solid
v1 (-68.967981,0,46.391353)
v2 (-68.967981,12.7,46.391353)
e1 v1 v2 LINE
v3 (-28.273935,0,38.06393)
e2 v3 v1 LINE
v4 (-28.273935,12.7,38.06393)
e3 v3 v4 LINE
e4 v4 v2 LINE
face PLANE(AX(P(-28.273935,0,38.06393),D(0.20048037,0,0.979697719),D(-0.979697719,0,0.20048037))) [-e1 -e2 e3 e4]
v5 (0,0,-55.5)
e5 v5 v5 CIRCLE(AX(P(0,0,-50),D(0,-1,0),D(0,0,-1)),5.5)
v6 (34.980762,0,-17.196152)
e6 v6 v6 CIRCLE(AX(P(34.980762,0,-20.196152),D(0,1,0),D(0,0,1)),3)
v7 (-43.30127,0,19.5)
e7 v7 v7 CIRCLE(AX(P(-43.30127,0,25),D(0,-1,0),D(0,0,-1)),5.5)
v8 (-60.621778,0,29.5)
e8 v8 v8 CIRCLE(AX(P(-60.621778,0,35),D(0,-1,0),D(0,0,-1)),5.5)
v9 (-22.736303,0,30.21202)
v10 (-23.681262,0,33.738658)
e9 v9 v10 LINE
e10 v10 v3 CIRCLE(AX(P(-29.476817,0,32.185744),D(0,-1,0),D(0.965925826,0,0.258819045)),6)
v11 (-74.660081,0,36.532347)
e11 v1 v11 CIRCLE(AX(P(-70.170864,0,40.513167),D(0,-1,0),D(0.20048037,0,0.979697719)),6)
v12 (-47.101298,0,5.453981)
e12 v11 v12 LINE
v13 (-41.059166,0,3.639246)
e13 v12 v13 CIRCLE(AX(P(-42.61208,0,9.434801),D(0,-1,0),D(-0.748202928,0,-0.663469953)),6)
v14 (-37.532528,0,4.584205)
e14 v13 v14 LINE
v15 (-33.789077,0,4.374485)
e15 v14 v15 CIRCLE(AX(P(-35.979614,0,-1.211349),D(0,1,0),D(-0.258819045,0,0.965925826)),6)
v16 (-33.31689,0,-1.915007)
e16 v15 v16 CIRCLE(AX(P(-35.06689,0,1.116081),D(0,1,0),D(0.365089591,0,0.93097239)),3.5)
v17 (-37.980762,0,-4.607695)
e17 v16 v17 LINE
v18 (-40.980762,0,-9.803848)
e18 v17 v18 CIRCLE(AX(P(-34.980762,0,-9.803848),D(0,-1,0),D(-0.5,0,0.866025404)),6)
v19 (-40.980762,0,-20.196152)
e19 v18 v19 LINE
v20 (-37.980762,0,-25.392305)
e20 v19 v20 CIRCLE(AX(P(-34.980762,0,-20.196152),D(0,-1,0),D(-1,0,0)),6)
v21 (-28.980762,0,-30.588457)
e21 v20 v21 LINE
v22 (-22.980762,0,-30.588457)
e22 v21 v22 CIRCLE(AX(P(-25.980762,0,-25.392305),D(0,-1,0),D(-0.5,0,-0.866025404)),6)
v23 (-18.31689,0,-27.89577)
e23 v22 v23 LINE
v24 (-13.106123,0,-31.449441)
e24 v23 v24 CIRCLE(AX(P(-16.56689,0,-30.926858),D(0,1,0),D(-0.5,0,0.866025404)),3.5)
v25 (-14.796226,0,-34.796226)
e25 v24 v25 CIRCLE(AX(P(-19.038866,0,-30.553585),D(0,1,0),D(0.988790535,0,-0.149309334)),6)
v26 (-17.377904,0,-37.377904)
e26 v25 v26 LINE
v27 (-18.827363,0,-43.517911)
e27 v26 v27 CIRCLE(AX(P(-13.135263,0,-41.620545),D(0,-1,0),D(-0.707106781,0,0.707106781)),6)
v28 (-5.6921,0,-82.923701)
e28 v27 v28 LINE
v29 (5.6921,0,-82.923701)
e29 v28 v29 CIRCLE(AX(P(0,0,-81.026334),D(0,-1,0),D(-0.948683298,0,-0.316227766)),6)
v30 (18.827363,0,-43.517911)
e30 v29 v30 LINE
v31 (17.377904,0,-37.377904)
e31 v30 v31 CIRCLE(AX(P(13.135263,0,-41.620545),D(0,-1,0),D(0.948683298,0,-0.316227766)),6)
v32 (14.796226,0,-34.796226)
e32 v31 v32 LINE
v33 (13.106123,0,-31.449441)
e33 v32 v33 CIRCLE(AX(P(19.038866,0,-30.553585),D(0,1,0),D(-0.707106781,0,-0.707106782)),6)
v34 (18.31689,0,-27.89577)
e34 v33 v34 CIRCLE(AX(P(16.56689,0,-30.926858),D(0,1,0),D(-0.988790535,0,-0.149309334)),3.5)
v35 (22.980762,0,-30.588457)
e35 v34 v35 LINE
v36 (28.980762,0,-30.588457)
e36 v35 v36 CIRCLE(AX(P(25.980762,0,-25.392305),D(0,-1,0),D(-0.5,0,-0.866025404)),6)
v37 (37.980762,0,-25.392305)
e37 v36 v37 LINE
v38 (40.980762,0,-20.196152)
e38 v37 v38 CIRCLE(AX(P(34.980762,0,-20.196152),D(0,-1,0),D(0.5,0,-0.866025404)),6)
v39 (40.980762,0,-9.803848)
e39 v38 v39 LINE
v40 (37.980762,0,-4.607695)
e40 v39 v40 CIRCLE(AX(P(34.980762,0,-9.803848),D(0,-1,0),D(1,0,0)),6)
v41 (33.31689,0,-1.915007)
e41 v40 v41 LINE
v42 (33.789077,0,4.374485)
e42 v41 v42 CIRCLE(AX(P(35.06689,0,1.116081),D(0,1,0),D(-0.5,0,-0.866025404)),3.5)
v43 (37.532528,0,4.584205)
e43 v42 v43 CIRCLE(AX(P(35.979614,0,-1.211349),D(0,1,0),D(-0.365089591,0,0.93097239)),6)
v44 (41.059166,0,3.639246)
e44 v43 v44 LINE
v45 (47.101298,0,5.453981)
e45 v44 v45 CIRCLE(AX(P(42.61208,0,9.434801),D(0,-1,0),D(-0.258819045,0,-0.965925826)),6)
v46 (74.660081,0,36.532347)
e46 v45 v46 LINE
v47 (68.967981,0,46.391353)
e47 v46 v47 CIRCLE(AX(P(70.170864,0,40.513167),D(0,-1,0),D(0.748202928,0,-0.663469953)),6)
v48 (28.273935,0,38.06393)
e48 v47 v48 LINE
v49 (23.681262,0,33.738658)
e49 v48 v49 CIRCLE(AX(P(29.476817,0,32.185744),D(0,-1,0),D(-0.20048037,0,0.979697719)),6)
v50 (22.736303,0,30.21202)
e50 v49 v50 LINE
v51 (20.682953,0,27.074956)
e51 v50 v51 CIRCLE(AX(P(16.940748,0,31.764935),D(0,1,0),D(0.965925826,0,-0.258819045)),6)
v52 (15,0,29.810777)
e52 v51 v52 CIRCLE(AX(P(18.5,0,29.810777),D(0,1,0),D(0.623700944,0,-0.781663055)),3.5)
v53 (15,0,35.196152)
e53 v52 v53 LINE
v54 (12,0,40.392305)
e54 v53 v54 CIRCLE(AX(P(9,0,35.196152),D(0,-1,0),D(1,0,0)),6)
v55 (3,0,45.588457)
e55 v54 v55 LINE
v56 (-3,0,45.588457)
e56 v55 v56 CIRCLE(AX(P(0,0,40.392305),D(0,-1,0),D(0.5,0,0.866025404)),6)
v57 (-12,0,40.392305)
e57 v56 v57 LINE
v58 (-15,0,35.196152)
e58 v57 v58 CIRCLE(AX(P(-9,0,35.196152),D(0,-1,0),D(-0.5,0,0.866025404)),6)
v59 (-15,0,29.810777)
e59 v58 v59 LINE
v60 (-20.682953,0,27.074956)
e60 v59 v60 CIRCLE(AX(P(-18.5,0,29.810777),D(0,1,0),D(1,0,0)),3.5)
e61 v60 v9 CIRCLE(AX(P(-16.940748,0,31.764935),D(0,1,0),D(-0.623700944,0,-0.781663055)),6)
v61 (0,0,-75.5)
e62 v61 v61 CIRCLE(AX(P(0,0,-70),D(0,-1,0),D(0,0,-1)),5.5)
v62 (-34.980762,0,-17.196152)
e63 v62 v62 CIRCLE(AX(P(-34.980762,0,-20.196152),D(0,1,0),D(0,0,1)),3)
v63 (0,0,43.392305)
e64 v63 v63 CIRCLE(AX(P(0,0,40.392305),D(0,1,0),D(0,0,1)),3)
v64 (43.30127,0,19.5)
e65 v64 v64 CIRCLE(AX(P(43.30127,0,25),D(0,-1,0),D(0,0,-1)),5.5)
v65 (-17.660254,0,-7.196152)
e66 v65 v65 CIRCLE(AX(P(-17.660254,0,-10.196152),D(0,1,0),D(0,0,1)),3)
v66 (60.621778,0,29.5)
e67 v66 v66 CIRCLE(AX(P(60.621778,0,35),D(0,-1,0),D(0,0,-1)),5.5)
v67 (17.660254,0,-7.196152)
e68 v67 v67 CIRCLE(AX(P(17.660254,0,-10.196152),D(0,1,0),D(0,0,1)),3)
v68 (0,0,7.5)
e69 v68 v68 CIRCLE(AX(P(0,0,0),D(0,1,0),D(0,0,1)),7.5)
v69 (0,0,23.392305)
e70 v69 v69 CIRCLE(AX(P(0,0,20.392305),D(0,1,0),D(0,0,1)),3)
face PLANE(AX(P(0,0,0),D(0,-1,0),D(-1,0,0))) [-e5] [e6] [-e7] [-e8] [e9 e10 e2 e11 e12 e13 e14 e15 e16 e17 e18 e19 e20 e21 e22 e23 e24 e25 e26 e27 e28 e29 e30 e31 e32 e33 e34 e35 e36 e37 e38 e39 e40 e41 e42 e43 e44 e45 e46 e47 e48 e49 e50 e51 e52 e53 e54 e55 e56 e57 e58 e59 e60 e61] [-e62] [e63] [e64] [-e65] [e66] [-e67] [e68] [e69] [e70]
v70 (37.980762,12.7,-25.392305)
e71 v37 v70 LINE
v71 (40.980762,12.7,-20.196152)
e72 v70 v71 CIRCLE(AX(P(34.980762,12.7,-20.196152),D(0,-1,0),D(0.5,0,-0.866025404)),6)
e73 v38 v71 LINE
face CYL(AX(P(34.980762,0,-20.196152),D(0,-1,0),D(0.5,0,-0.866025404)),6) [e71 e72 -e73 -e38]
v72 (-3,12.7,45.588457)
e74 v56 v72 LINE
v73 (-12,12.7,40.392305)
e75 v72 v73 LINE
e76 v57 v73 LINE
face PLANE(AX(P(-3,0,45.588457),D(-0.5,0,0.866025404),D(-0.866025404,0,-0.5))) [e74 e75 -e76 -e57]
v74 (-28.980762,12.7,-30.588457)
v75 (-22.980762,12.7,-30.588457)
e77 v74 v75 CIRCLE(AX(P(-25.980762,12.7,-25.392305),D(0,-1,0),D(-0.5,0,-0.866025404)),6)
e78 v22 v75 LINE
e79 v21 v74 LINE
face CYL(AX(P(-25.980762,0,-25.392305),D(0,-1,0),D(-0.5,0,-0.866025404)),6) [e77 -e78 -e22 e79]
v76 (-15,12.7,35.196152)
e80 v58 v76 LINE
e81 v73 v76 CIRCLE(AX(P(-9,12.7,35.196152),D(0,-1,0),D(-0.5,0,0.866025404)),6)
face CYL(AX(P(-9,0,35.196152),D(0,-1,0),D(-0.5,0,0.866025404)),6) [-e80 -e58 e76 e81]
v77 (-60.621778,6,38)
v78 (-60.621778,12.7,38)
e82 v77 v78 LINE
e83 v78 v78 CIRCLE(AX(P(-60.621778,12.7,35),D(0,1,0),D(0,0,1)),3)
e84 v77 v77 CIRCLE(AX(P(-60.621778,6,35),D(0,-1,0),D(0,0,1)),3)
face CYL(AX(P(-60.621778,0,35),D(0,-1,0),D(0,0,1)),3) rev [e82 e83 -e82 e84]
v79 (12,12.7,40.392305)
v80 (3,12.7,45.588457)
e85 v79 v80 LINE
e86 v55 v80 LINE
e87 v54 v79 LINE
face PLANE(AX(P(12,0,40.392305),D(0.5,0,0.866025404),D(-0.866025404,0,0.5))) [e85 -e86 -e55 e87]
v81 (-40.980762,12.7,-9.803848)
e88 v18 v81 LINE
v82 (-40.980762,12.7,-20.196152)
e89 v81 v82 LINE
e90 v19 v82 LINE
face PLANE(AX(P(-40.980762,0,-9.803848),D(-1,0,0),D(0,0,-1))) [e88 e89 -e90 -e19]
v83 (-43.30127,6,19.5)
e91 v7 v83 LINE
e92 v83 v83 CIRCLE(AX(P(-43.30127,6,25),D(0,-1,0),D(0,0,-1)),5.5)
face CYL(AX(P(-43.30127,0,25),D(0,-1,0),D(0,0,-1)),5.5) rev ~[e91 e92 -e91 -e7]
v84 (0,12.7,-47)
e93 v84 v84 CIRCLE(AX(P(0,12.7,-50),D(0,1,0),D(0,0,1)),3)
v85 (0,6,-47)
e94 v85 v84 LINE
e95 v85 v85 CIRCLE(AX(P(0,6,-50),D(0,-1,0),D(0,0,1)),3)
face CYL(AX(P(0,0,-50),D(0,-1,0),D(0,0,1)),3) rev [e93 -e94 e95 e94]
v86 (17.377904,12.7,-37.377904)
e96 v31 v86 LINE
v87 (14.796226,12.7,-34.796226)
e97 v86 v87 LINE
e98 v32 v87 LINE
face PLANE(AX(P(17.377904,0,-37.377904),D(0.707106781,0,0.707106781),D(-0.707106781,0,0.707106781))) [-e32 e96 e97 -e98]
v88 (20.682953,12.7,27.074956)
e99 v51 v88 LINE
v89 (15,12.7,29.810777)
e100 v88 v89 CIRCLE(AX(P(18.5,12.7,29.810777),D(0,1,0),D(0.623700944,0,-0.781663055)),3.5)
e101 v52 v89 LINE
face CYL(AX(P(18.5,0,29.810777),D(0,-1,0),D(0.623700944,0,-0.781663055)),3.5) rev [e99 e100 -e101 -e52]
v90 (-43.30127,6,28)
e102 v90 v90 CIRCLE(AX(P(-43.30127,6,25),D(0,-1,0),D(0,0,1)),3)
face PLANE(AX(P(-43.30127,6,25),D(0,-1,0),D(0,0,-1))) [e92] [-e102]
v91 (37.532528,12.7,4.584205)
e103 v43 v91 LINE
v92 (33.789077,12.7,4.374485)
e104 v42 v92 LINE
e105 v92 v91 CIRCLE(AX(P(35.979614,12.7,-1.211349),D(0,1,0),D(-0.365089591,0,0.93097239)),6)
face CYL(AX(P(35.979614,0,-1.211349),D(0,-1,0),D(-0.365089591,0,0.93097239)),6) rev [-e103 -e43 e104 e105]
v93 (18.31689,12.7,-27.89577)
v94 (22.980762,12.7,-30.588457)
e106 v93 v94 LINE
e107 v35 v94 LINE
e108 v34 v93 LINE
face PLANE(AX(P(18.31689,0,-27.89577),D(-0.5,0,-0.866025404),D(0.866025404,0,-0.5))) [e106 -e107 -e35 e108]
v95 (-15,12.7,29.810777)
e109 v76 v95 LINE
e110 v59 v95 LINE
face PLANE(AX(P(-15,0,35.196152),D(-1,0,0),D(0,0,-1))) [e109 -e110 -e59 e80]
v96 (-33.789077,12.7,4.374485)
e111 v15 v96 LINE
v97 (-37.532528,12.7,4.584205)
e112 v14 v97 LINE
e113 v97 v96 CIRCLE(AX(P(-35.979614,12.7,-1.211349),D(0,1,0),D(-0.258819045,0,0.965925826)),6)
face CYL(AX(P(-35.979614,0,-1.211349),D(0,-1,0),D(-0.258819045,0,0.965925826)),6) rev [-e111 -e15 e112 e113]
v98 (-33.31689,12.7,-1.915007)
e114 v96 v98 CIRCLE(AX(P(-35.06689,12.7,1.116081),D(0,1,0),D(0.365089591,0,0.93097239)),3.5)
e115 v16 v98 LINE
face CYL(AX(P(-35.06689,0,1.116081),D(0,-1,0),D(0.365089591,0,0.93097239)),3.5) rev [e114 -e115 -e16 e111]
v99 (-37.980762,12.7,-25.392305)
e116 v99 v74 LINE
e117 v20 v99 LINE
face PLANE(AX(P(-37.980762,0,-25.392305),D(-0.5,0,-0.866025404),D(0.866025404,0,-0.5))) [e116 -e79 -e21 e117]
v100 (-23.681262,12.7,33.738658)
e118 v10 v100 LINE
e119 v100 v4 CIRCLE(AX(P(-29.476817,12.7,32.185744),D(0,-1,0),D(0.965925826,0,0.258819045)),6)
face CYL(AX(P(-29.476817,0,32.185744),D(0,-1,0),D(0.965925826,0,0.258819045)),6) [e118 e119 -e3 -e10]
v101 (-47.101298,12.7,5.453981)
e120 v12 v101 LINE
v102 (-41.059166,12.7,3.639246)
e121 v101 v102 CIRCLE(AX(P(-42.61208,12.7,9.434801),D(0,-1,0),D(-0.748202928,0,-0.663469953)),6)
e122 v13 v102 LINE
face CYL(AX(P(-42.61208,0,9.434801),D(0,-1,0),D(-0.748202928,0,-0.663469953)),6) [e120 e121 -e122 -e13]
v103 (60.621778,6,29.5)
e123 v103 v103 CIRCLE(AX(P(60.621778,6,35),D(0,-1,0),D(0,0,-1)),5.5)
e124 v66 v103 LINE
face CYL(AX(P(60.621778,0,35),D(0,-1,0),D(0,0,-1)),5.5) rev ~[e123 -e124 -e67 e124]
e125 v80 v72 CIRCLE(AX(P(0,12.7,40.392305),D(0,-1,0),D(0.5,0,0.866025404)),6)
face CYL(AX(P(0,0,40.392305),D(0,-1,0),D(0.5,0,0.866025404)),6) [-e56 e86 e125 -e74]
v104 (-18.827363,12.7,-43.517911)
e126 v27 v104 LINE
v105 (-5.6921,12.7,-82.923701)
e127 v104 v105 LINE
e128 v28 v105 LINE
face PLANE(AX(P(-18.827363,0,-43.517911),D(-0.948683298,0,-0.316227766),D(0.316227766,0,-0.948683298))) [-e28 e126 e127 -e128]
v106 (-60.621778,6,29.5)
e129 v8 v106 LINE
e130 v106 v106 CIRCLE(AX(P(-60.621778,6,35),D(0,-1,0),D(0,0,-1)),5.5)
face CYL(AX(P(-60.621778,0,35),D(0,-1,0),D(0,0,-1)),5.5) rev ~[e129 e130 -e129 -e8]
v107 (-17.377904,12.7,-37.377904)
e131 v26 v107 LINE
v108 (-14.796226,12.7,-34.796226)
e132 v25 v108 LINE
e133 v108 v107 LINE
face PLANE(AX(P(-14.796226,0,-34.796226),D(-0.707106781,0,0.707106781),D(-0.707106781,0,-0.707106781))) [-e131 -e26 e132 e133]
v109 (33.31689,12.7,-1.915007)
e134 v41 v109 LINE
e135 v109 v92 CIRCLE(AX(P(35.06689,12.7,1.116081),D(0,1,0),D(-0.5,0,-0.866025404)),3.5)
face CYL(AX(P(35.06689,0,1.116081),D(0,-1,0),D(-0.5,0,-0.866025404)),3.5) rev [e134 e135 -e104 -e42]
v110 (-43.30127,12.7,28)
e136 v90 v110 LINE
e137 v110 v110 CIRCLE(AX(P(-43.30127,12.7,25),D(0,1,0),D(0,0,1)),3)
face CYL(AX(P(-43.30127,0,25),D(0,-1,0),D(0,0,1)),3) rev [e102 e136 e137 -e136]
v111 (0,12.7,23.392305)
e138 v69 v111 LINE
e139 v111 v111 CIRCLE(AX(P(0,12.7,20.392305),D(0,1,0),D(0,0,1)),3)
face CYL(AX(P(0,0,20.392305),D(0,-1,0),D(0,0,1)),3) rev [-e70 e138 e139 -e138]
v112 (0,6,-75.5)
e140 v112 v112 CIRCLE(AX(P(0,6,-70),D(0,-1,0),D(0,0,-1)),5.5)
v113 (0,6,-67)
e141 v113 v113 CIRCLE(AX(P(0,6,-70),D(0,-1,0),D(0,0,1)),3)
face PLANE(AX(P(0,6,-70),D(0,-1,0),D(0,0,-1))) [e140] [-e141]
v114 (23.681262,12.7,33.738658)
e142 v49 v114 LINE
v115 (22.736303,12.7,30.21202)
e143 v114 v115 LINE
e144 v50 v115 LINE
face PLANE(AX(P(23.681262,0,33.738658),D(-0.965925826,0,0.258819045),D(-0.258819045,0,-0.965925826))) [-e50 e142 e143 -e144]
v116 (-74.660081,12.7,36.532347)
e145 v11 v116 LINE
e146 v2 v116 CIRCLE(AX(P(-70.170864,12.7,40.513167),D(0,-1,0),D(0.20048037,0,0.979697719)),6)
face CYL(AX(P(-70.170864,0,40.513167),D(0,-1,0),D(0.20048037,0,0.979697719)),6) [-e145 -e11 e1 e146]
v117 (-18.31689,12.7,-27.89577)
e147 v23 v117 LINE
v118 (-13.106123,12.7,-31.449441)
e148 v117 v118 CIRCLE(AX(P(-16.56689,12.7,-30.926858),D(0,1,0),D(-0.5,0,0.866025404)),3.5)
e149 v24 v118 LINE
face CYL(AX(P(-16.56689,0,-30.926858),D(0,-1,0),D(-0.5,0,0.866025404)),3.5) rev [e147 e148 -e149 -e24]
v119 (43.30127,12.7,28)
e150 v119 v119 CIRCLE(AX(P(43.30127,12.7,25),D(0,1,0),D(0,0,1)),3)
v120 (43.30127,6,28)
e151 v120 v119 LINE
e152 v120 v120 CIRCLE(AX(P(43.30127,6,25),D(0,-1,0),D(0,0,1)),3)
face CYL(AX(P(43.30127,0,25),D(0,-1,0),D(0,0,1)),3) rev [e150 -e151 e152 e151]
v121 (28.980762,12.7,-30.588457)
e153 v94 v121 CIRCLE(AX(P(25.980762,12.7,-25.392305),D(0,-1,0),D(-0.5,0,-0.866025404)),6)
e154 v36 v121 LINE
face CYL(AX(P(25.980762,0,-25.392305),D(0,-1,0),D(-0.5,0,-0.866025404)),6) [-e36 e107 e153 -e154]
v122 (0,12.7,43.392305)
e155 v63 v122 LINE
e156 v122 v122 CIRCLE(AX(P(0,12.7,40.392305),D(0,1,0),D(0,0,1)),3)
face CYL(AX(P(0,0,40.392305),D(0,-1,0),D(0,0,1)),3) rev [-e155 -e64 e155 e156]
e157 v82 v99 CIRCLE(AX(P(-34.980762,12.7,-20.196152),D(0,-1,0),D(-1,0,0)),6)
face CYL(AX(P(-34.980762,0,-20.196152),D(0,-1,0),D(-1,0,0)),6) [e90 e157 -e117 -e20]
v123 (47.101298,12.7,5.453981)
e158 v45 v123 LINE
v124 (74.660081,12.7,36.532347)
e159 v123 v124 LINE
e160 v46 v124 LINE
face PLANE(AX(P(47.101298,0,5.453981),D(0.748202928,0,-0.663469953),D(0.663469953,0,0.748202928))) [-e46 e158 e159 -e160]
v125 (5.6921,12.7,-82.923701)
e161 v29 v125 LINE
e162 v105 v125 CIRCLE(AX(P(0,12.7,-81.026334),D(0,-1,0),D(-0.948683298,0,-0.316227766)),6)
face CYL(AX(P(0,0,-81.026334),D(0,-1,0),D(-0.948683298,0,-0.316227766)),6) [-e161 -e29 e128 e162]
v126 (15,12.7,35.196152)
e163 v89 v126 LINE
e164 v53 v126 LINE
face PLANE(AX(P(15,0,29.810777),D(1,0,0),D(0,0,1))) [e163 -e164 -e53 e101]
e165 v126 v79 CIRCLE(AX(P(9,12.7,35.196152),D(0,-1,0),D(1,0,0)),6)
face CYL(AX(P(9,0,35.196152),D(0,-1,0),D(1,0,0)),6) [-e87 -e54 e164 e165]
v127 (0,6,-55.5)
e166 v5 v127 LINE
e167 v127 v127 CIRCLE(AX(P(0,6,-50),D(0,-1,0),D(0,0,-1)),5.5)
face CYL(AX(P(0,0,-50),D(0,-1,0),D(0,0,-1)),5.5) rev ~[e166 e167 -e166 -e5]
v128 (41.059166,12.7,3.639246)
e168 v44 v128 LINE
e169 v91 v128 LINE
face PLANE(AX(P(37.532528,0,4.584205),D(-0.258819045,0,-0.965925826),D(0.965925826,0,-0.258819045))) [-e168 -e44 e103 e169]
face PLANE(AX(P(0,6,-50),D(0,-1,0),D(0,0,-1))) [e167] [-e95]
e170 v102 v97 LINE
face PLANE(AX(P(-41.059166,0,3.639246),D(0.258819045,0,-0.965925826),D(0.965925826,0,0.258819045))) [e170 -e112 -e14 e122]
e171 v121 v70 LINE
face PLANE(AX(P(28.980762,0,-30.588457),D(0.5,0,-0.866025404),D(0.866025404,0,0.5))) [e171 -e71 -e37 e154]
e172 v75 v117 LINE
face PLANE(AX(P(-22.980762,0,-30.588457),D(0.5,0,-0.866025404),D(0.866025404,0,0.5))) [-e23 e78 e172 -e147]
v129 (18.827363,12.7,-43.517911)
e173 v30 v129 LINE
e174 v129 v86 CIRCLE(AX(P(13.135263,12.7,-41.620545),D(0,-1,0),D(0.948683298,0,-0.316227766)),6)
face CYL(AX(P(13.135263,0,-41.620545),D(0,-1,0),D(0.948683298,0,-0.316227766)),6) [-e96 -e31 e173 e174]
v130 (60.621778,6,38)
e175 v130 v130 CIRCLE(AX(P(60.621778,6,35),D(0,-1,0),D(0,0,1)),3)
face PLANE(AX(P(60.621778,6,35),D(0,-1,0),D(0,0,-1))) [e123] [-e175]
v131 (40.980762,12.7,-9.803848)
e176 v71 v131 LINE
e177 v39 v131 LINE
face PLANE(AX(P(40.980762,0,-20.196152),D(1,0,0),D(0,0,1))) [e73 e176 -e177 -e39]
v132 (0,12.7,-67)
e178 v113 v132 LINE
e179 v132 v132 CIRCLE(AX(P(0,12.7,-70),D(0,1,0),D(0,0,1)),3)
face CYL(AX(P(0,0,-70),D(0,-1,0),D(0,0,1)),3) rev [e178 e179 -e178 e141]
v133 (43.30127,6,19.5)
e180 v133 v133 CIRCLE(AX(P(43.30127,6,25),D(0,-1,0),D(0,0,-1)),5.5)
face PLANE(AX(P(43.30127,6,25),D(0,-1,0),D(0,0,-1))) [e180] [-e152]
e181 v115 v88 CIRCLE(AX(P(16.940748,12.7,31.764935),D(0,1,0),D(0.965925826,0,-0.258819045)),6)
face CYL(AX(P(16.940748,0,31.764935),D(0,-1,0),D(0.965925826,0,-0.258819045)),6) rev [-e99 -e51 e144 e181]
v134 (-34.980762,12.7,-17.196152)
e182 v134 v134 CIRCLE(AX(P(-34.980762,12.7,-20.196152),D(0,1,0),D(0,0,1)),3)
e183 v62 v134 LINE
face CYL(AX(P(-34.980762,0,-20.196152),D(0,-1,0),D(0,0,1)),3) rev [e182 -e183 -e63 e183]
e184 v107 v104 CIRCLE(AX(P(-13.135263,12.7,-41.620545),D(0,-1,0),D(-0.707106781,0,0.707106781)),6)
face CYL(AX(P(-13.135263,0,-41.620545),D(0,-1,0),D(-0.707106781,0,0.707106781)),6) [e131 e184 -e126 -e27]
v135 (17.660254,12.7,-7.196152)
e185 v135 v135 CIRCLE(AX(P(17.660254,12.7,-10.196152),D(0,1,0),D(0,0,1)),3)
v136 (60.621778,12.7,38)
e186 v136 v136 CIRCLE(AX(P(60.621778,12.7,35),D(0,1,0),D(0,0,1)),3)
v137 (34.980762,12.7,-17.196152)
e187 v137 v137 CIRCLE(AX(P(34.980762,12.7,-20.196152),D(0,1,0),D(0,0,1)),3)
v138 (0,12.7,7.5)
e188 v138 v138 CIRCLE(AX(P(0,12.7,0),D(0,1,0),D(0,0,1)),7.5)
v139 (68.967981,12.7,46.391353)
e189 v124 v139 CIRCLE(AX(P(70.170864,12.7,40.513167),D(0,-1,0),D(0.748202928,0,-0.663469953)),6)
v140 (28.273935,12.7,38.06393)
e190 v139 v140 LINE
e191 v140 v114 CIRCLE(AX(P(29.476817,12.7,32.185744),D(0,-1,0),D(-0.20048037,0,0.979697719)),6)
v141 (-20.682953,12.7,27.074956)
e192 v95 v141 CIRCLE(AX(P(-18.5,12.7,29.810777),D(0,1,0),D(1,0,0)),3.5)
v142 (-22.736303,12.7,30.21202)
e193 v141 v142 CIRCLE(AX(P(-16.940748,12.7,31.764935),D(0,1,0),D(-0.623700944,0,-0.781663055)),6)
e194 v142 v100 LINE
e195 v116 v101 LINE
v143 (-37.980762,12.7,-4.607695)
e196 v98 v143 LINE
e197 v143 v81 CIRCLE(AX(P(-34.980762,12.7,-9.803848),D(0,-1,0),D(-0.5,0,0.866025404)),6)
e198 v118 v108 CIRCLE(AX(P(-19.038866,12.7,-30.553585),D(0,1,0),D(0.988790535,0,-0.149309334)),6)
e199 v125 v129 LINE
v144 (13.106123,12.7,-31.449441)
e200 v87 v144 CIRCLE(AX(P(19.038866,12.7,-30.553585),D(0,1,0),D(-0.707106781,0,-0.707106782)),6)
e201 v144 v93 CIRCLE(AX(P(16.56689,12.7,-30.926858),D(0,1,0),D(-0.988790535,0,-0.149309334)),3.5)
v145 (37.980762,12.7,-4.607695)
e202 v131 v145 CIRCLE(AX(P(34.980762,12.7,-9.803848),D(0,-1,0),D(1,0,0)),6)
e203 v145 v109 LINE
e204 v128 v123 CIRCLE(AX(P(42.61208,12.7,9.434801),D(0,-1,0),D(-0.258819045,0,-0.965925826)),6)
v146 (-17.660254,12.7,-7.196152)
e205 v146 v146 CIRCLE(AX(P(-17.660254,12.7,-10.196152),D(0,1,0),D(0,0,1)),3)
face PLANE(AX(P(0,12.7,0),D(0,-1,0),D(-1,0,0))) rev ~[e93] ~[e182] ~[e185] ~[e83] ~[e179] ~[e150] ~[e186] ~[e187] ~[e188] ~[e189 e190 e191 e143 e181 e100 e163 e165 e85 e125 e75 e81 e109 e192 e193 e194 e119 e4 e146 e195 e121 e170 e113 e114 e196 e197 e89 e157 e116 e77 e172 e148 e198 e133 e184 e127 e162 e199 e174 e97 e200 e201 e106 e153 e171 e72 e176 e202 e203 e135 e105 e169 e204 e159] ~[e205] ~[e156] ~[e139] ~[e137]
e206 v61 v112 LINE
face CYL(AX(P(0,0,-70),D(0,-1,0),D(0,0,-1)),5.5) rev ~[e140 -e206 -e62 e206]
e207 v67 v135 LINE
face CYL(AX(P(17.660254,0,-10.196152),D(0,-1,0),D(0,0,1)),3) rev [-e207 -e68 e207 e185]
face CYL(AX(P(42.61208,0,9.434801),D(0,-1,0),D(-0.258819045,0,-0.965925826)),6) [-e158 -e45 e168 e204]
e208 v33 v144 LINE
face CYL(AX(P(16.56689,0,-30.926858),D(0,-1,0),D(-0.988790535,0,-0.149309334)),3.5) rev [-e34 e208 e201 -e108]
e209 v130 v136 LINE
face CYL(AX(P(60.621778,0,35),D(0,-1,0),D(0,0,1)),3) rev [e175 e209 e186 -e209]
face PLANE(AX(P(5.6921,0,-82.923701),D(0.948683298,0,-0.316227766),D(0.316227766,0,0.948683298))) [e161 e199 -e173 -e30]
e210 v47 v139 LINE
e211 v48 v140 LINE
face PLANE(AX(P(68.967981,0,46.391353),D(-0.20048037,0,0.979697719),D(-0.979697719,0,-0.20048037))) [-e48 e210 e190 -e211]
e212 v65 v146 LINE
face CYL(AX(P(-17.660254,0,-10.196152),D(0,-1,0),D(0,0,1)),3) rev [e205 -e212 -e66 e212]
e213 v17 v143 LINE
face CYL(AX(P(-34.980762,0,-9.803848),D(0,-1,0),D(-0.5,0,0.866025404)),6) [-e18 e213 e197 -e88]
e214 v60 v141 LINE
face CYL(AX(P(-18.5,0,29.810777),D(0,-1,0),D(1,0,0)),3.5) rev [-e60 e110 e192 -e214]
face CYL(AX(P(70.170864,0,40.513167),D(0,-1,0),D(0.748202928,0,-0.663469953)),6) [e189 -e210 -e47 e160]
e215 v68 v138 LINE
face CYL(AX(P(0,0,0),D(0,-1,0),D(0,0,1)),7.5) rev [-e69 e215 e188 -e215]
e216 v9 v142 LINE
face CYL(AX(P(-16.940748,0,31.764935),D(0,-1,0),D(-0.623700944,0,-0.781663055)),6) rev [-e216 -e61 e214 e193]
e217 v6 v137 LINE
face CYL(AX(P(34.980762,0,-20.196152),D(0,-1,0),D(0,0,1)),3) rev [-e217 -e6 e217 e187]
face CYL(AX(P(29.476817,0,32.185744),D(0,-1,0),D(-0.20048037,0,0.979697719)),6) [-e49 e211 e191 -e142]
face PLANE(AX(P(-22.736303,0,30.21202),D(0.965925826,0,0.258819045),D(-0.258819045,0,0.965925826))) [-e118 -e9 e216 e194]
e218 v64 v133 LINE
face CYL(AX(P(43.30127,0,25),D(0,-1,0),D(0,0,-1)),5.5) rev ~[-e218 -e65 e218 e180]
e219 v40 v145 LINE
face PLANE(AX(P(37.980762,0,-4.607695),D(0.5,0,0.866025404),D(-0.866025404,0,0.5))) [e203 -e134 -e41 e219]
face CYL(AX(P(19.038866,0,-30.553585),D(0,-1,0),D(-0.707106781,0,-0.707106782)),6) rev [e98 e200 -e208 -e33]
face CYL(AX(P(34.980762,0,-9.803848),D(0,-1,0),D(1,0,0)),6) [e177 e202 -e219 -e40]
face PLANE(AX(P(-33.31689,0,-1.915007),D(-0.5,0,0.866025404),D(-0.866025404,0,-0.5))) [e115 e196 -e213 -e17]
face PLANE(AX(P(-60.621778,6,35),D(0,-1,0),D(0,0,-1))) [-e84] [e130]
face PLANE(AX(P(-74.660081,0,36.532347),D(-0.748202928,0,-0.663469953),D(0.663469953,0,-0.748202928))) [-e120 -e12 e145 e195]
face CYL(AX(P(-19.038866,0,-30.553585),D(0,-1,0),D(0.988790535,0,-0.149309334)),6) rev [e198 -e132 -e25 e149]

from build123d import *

# Parameters (mm, degrees)
SKETCH1_R             = 7.5
SKETCH1_R_2           = 3
BOSS_EXTRUDE1_DEPTH   = 12.7
CROQUIS1_R            = 5.5
CORTAR_EXTRUIR1_DEPTH = 6


with BuildPart() as part:
    # Sketch1 → Boss-Extrude1 (new body)
    with BuildSketch(Plane(origin=(0, 0, 0), x_dir=(1, 0, 0), z_dir=(0, 1, 0))):
        with BuildLine():
            Line((5.692099788, 82.923700635), (18.827362954, 43.517911137))
            ThreePointArc((18.827362954, 43.517911137), (18.974757103, 40.242027017), (17.377903853, 37.377903853))
            Line((17.377903853, 37.377903853), (14.796225796, 34.796225796))
            ThreePointArc((14.796225796, 34.796225796), (13.683042429, 33.258238267), (13.106123272, 31.449441115))
            ThreePointArc((13.106123272, 31.449441115), (14.594879432, 28.035289019), (18.316890145, 27.895769532))
            Line((18.316890145, 27.895769532), (22.980762114, 30.588457268))
            ThreePointArc((22.980762114, 30.588457268), (25.980762114, 31.392304845), (28.980762114, 30.588457268))
            Line((28.980762114, 30.588457268), (37.980762114, 25.392304845))
            ThreePointArc((37.980762114, 25.392304845), (40.176914536, 23.196152423), (40.980762114, 20.196152423))
            Line((40.980762114, 20.196152423), (40.980762114, 9.803847577))
            ThreePointArc((40.980762114, 9.803847577), (40.176914536, 6.803847577), (37.980762114, 4.607695155))
            Line((37.980762114, 4.607695155), (33.316890145, 1.915007418))
            ThreePointArc((33.316890145, 1.915007418), (31.576712209, -1.378108157), (33.789076576, -4.374484859))
            ThreePointArc((33.789076576, -4.374484859), (35.644000439, -4.779256788), (37.532528394, -4.584205478))
            Line((37.532528394, -4.584205478), (41.059166204, -3.639245725))
            ThreePointArc((41.059166204, -3.639245725), (44.337996248, -3.688391827), (47.101298041, -5.453980963))
            Line((47.101298041, -5.453980963), (74.66008122, -36.5323473))
            ThreePointArc((74.66008122, -36.5323473), (75.367016076, -43.513167019), (68.967981432, -46.391353335))
            Line((68.967981432, -46.391353335), (28.273935087, -38.063930173))
            ThreePointArc((28.273935087, -38.063930173), (25.363239145, -36.55363519), (23.681262351, -33.738658128))
            Line((23.681262351, -33.738658128), (22.736302597, -30.212020318))
            ThreePointArc((22.736302597, -30.212020318), (21.960958009, -28.478981478), (20.682953305, -27.074956256))
            ThreePointArc((20.682953305, -27.074956256), (16.981832777, -26.657180862), (15, -29.81077695))
            Line((15, -29.81077695), (15, -35.196152423))
            ThreePointArc((15, -35.196152423), (14.196152423, -38.196152423), (12, -40.392304845))
            Line((12, -40.392304845), (3, -45.588457268))
            ThreePointArc((3, -45.588457268), (0, -46.392304845), (-3, -45.588457268))
            Line((-3, -45.588457268), (-12, -40.392304845))
            ThreePointArc((-12, -40.392304845), (-14.196152423, -38.196152423), (-15, -35.196152423))
            Line((-15, -35.196152423), (-15, -29.81077695))
            ThreePointArc((-15, -29.81077695), (-16.981832777, -26.657180862), (-20.682953305, -27.074956256))
            ThreePointArc((-20.682953305, -27.074956256), (-21.960958009, -28.478981478), (-22.736302597, -30.212020318))
            Line((-22.736302597, -30.212020318), (-23.681262351, -33.738658128))
            ThreePointArc((-23.681262351, -33.738658128), (-25.363239145, -36.55363519), (-28.273935087, -38.063930173))
            Line((-28.273935087, -38.063930173), (-68.967981432, -46.391353335))
            ThreePointArc((-68.967981432, -46.391353335), (-75.367016076, -43.51316702), (-74.66008122, -36.5323473))
            Line((-74.66008122, -36.5323473), (-47.101298041, -5.453980963))
            ThreePointArc((-47.101298041, -5.453980963), (-44.337996248, -3.688391827), (-41.059166204, -3.639245725))
            Line((-41.059166204, -3.639245725), (-37.532528394, -4.584205478))
            ThreePointArc((-37.532528394, -4.584205478), (-35.644000439, -4.779256788), (-33.789076576, -4.374484859))
            ThreePointArc((-33.789076576, -4.374484859), (-31.576712209, -1.378108157), (-33.316890145, 1.915007418))
            Line((-33.316890145, 1.915007418), (-37.980762114, 4.607695155))
            ThreePointArc((-37.980762114, 4.607695155), (-40.176914536, 6.803847577), (-40.980762114, 9.803847577))
            Line((-40.980762114, 9.803847577), (-40.980762114, 20.196152423))
            ThreePointArc((-40.980762114, 20.196152423), (-40.176914536, 23.196152423), (-37.980762114, 25.392304845))
            Line((-37.980762114, 25.392304845), (-28.980762114, 30.588457268))
            ThreePointArc((-28.980762114, 30.588457268), (-25.980762114, 31.392304845), (-22.980762114, 30.588457268))
            Line((-22.980762114, 30.588457268), (-18.316890145, 27.895769532))
            ThreePointArc((-18.316890145, 27.895769532), (-14.594879432, 28.035289019), (-13.106123272, 31.449441115))
            ThreePointArc((-13.106123272, 31.449441115), (-13.683042429, 33.258238267), (-14.796225796, 34.796225796))
            Line((-14.796225796, 34.796225796), (-17.377903853, 37.377903853))
            ThreePointArc((-17.377903853, 37.377903853), (-18.974757103, 40.242027017), (-18.827362954, 43.517911137))
            Line((-18.827362954, 43.517911137), (-5.692099788, 82.923700635))
            ThreePointArc((-5.692099788, 82.923700635), (0, 87.026334039), (5.692099788, 82.923700635))
        make_face()
        with Locations(Location((0, 0, 0), (0, 0, 270))):
            Circle(SKETCH1_R, mode=Mode.SUBTRACT)
        with Locations(Location((0, 70, 0), (0, 0, 270))):
            Circle(SKETCH1_R_2, mode=Mode.SUBTRACT)
        with Locations(Location((0, 50, 0), (0, 0, 270))):
            Circle(SKETCH1_R_2, mode=Mode.SUBTRACT)
        with Locations(Location((60.621778265, -35, 0), (0, 0, 270))):
            Circle(SKETCH1_R_2, mode=Mode.SUBTRACT)
        with Locations(Location((43.301270189, -25, 0), (0, 0, 270))):
            Circle(SKETCH1_R_2, mode=Mode.SUBTRACT)
        with Locations(Location((-60.621778265, -35, 0), (0, 0, 270))):
            Circle(SKETCH1_R_2, mode=Mode.SUBTRACT)
        with Locations(Location((-43.301270189, -25, 0), (0, 0, 270))):
            Circle(SKETCH1_R_2, mode=Mode.SUBTRACT)
        with Locations(Location((0, -40.392304845, 0), (0, 0, 270))):
            Circle(SKETCH1_R_2, mode=Mode.SUBTRACT)
        with Locations(Location((0, -20.392304845, 0), (0, 0, 270))):
            Circle(SKETCH1_R_2, mode=Mode.SUBTRACT)
        with Locations(Location((-34.980762114, 20.196152423, 0), (0, 0, 270))):
            Circle(SKETCH1_R_2, mode=Mode.SUBTRACT)
        with Locations(Location((-17.660254038, 10.196152423, 0), (0, 0, 270))):
            Circle(SKETCH1_R_2, mode=Mode.SUBTRACT)
        with Locations(Location((34.980762114, 20.196152423, 0), (0, 0, 270))):
            Circle(SKETCH1_R_2, mode=Mode.SUBTRACT)
        with Locations(Location((17.660254038, 10.196152423, 0), (0, 0, 270))):
            Circle(SKETCH1_R_2, mode=Mode.SUBTRACT)
    extrude(amount=BOSS_EXTRUDE1_DEPTH)

    # Croquis1 → Cortar-Extruir1 (cut)
    with BuildSketch(Plane.XZ):
        with Locations(Location((-60.621778265, 35, 0), (0, 0, 270))):
            Circle(CROQUIS1_R)
        with Locations(Location((-43.301270189, 25, 0), (0, 0, 270))):
            Circle(CROQUIS1_R)
        with Locations(Location((43.301270189, 25, 0), (0, 0, 270))):
            Circle(CROQUIS1_R)
        with Locations(Location((60.621778265, 35, 0), (0, 0, 270))):
            Circle(CROQUIS1_R)
        with Locations(Location((0, -50, 0), (0, 0, 270))):
            Circle(CROQUIS1_R)
        with Locations(Location((0, -70, 0), (0, 0, 270))):
            Circle(CROQUIS1_R)
    extrude(amount=-CORTAR_EXTRUIR1_DEPTH, mode=Mode.SUBTRACT)


solid = part.part
